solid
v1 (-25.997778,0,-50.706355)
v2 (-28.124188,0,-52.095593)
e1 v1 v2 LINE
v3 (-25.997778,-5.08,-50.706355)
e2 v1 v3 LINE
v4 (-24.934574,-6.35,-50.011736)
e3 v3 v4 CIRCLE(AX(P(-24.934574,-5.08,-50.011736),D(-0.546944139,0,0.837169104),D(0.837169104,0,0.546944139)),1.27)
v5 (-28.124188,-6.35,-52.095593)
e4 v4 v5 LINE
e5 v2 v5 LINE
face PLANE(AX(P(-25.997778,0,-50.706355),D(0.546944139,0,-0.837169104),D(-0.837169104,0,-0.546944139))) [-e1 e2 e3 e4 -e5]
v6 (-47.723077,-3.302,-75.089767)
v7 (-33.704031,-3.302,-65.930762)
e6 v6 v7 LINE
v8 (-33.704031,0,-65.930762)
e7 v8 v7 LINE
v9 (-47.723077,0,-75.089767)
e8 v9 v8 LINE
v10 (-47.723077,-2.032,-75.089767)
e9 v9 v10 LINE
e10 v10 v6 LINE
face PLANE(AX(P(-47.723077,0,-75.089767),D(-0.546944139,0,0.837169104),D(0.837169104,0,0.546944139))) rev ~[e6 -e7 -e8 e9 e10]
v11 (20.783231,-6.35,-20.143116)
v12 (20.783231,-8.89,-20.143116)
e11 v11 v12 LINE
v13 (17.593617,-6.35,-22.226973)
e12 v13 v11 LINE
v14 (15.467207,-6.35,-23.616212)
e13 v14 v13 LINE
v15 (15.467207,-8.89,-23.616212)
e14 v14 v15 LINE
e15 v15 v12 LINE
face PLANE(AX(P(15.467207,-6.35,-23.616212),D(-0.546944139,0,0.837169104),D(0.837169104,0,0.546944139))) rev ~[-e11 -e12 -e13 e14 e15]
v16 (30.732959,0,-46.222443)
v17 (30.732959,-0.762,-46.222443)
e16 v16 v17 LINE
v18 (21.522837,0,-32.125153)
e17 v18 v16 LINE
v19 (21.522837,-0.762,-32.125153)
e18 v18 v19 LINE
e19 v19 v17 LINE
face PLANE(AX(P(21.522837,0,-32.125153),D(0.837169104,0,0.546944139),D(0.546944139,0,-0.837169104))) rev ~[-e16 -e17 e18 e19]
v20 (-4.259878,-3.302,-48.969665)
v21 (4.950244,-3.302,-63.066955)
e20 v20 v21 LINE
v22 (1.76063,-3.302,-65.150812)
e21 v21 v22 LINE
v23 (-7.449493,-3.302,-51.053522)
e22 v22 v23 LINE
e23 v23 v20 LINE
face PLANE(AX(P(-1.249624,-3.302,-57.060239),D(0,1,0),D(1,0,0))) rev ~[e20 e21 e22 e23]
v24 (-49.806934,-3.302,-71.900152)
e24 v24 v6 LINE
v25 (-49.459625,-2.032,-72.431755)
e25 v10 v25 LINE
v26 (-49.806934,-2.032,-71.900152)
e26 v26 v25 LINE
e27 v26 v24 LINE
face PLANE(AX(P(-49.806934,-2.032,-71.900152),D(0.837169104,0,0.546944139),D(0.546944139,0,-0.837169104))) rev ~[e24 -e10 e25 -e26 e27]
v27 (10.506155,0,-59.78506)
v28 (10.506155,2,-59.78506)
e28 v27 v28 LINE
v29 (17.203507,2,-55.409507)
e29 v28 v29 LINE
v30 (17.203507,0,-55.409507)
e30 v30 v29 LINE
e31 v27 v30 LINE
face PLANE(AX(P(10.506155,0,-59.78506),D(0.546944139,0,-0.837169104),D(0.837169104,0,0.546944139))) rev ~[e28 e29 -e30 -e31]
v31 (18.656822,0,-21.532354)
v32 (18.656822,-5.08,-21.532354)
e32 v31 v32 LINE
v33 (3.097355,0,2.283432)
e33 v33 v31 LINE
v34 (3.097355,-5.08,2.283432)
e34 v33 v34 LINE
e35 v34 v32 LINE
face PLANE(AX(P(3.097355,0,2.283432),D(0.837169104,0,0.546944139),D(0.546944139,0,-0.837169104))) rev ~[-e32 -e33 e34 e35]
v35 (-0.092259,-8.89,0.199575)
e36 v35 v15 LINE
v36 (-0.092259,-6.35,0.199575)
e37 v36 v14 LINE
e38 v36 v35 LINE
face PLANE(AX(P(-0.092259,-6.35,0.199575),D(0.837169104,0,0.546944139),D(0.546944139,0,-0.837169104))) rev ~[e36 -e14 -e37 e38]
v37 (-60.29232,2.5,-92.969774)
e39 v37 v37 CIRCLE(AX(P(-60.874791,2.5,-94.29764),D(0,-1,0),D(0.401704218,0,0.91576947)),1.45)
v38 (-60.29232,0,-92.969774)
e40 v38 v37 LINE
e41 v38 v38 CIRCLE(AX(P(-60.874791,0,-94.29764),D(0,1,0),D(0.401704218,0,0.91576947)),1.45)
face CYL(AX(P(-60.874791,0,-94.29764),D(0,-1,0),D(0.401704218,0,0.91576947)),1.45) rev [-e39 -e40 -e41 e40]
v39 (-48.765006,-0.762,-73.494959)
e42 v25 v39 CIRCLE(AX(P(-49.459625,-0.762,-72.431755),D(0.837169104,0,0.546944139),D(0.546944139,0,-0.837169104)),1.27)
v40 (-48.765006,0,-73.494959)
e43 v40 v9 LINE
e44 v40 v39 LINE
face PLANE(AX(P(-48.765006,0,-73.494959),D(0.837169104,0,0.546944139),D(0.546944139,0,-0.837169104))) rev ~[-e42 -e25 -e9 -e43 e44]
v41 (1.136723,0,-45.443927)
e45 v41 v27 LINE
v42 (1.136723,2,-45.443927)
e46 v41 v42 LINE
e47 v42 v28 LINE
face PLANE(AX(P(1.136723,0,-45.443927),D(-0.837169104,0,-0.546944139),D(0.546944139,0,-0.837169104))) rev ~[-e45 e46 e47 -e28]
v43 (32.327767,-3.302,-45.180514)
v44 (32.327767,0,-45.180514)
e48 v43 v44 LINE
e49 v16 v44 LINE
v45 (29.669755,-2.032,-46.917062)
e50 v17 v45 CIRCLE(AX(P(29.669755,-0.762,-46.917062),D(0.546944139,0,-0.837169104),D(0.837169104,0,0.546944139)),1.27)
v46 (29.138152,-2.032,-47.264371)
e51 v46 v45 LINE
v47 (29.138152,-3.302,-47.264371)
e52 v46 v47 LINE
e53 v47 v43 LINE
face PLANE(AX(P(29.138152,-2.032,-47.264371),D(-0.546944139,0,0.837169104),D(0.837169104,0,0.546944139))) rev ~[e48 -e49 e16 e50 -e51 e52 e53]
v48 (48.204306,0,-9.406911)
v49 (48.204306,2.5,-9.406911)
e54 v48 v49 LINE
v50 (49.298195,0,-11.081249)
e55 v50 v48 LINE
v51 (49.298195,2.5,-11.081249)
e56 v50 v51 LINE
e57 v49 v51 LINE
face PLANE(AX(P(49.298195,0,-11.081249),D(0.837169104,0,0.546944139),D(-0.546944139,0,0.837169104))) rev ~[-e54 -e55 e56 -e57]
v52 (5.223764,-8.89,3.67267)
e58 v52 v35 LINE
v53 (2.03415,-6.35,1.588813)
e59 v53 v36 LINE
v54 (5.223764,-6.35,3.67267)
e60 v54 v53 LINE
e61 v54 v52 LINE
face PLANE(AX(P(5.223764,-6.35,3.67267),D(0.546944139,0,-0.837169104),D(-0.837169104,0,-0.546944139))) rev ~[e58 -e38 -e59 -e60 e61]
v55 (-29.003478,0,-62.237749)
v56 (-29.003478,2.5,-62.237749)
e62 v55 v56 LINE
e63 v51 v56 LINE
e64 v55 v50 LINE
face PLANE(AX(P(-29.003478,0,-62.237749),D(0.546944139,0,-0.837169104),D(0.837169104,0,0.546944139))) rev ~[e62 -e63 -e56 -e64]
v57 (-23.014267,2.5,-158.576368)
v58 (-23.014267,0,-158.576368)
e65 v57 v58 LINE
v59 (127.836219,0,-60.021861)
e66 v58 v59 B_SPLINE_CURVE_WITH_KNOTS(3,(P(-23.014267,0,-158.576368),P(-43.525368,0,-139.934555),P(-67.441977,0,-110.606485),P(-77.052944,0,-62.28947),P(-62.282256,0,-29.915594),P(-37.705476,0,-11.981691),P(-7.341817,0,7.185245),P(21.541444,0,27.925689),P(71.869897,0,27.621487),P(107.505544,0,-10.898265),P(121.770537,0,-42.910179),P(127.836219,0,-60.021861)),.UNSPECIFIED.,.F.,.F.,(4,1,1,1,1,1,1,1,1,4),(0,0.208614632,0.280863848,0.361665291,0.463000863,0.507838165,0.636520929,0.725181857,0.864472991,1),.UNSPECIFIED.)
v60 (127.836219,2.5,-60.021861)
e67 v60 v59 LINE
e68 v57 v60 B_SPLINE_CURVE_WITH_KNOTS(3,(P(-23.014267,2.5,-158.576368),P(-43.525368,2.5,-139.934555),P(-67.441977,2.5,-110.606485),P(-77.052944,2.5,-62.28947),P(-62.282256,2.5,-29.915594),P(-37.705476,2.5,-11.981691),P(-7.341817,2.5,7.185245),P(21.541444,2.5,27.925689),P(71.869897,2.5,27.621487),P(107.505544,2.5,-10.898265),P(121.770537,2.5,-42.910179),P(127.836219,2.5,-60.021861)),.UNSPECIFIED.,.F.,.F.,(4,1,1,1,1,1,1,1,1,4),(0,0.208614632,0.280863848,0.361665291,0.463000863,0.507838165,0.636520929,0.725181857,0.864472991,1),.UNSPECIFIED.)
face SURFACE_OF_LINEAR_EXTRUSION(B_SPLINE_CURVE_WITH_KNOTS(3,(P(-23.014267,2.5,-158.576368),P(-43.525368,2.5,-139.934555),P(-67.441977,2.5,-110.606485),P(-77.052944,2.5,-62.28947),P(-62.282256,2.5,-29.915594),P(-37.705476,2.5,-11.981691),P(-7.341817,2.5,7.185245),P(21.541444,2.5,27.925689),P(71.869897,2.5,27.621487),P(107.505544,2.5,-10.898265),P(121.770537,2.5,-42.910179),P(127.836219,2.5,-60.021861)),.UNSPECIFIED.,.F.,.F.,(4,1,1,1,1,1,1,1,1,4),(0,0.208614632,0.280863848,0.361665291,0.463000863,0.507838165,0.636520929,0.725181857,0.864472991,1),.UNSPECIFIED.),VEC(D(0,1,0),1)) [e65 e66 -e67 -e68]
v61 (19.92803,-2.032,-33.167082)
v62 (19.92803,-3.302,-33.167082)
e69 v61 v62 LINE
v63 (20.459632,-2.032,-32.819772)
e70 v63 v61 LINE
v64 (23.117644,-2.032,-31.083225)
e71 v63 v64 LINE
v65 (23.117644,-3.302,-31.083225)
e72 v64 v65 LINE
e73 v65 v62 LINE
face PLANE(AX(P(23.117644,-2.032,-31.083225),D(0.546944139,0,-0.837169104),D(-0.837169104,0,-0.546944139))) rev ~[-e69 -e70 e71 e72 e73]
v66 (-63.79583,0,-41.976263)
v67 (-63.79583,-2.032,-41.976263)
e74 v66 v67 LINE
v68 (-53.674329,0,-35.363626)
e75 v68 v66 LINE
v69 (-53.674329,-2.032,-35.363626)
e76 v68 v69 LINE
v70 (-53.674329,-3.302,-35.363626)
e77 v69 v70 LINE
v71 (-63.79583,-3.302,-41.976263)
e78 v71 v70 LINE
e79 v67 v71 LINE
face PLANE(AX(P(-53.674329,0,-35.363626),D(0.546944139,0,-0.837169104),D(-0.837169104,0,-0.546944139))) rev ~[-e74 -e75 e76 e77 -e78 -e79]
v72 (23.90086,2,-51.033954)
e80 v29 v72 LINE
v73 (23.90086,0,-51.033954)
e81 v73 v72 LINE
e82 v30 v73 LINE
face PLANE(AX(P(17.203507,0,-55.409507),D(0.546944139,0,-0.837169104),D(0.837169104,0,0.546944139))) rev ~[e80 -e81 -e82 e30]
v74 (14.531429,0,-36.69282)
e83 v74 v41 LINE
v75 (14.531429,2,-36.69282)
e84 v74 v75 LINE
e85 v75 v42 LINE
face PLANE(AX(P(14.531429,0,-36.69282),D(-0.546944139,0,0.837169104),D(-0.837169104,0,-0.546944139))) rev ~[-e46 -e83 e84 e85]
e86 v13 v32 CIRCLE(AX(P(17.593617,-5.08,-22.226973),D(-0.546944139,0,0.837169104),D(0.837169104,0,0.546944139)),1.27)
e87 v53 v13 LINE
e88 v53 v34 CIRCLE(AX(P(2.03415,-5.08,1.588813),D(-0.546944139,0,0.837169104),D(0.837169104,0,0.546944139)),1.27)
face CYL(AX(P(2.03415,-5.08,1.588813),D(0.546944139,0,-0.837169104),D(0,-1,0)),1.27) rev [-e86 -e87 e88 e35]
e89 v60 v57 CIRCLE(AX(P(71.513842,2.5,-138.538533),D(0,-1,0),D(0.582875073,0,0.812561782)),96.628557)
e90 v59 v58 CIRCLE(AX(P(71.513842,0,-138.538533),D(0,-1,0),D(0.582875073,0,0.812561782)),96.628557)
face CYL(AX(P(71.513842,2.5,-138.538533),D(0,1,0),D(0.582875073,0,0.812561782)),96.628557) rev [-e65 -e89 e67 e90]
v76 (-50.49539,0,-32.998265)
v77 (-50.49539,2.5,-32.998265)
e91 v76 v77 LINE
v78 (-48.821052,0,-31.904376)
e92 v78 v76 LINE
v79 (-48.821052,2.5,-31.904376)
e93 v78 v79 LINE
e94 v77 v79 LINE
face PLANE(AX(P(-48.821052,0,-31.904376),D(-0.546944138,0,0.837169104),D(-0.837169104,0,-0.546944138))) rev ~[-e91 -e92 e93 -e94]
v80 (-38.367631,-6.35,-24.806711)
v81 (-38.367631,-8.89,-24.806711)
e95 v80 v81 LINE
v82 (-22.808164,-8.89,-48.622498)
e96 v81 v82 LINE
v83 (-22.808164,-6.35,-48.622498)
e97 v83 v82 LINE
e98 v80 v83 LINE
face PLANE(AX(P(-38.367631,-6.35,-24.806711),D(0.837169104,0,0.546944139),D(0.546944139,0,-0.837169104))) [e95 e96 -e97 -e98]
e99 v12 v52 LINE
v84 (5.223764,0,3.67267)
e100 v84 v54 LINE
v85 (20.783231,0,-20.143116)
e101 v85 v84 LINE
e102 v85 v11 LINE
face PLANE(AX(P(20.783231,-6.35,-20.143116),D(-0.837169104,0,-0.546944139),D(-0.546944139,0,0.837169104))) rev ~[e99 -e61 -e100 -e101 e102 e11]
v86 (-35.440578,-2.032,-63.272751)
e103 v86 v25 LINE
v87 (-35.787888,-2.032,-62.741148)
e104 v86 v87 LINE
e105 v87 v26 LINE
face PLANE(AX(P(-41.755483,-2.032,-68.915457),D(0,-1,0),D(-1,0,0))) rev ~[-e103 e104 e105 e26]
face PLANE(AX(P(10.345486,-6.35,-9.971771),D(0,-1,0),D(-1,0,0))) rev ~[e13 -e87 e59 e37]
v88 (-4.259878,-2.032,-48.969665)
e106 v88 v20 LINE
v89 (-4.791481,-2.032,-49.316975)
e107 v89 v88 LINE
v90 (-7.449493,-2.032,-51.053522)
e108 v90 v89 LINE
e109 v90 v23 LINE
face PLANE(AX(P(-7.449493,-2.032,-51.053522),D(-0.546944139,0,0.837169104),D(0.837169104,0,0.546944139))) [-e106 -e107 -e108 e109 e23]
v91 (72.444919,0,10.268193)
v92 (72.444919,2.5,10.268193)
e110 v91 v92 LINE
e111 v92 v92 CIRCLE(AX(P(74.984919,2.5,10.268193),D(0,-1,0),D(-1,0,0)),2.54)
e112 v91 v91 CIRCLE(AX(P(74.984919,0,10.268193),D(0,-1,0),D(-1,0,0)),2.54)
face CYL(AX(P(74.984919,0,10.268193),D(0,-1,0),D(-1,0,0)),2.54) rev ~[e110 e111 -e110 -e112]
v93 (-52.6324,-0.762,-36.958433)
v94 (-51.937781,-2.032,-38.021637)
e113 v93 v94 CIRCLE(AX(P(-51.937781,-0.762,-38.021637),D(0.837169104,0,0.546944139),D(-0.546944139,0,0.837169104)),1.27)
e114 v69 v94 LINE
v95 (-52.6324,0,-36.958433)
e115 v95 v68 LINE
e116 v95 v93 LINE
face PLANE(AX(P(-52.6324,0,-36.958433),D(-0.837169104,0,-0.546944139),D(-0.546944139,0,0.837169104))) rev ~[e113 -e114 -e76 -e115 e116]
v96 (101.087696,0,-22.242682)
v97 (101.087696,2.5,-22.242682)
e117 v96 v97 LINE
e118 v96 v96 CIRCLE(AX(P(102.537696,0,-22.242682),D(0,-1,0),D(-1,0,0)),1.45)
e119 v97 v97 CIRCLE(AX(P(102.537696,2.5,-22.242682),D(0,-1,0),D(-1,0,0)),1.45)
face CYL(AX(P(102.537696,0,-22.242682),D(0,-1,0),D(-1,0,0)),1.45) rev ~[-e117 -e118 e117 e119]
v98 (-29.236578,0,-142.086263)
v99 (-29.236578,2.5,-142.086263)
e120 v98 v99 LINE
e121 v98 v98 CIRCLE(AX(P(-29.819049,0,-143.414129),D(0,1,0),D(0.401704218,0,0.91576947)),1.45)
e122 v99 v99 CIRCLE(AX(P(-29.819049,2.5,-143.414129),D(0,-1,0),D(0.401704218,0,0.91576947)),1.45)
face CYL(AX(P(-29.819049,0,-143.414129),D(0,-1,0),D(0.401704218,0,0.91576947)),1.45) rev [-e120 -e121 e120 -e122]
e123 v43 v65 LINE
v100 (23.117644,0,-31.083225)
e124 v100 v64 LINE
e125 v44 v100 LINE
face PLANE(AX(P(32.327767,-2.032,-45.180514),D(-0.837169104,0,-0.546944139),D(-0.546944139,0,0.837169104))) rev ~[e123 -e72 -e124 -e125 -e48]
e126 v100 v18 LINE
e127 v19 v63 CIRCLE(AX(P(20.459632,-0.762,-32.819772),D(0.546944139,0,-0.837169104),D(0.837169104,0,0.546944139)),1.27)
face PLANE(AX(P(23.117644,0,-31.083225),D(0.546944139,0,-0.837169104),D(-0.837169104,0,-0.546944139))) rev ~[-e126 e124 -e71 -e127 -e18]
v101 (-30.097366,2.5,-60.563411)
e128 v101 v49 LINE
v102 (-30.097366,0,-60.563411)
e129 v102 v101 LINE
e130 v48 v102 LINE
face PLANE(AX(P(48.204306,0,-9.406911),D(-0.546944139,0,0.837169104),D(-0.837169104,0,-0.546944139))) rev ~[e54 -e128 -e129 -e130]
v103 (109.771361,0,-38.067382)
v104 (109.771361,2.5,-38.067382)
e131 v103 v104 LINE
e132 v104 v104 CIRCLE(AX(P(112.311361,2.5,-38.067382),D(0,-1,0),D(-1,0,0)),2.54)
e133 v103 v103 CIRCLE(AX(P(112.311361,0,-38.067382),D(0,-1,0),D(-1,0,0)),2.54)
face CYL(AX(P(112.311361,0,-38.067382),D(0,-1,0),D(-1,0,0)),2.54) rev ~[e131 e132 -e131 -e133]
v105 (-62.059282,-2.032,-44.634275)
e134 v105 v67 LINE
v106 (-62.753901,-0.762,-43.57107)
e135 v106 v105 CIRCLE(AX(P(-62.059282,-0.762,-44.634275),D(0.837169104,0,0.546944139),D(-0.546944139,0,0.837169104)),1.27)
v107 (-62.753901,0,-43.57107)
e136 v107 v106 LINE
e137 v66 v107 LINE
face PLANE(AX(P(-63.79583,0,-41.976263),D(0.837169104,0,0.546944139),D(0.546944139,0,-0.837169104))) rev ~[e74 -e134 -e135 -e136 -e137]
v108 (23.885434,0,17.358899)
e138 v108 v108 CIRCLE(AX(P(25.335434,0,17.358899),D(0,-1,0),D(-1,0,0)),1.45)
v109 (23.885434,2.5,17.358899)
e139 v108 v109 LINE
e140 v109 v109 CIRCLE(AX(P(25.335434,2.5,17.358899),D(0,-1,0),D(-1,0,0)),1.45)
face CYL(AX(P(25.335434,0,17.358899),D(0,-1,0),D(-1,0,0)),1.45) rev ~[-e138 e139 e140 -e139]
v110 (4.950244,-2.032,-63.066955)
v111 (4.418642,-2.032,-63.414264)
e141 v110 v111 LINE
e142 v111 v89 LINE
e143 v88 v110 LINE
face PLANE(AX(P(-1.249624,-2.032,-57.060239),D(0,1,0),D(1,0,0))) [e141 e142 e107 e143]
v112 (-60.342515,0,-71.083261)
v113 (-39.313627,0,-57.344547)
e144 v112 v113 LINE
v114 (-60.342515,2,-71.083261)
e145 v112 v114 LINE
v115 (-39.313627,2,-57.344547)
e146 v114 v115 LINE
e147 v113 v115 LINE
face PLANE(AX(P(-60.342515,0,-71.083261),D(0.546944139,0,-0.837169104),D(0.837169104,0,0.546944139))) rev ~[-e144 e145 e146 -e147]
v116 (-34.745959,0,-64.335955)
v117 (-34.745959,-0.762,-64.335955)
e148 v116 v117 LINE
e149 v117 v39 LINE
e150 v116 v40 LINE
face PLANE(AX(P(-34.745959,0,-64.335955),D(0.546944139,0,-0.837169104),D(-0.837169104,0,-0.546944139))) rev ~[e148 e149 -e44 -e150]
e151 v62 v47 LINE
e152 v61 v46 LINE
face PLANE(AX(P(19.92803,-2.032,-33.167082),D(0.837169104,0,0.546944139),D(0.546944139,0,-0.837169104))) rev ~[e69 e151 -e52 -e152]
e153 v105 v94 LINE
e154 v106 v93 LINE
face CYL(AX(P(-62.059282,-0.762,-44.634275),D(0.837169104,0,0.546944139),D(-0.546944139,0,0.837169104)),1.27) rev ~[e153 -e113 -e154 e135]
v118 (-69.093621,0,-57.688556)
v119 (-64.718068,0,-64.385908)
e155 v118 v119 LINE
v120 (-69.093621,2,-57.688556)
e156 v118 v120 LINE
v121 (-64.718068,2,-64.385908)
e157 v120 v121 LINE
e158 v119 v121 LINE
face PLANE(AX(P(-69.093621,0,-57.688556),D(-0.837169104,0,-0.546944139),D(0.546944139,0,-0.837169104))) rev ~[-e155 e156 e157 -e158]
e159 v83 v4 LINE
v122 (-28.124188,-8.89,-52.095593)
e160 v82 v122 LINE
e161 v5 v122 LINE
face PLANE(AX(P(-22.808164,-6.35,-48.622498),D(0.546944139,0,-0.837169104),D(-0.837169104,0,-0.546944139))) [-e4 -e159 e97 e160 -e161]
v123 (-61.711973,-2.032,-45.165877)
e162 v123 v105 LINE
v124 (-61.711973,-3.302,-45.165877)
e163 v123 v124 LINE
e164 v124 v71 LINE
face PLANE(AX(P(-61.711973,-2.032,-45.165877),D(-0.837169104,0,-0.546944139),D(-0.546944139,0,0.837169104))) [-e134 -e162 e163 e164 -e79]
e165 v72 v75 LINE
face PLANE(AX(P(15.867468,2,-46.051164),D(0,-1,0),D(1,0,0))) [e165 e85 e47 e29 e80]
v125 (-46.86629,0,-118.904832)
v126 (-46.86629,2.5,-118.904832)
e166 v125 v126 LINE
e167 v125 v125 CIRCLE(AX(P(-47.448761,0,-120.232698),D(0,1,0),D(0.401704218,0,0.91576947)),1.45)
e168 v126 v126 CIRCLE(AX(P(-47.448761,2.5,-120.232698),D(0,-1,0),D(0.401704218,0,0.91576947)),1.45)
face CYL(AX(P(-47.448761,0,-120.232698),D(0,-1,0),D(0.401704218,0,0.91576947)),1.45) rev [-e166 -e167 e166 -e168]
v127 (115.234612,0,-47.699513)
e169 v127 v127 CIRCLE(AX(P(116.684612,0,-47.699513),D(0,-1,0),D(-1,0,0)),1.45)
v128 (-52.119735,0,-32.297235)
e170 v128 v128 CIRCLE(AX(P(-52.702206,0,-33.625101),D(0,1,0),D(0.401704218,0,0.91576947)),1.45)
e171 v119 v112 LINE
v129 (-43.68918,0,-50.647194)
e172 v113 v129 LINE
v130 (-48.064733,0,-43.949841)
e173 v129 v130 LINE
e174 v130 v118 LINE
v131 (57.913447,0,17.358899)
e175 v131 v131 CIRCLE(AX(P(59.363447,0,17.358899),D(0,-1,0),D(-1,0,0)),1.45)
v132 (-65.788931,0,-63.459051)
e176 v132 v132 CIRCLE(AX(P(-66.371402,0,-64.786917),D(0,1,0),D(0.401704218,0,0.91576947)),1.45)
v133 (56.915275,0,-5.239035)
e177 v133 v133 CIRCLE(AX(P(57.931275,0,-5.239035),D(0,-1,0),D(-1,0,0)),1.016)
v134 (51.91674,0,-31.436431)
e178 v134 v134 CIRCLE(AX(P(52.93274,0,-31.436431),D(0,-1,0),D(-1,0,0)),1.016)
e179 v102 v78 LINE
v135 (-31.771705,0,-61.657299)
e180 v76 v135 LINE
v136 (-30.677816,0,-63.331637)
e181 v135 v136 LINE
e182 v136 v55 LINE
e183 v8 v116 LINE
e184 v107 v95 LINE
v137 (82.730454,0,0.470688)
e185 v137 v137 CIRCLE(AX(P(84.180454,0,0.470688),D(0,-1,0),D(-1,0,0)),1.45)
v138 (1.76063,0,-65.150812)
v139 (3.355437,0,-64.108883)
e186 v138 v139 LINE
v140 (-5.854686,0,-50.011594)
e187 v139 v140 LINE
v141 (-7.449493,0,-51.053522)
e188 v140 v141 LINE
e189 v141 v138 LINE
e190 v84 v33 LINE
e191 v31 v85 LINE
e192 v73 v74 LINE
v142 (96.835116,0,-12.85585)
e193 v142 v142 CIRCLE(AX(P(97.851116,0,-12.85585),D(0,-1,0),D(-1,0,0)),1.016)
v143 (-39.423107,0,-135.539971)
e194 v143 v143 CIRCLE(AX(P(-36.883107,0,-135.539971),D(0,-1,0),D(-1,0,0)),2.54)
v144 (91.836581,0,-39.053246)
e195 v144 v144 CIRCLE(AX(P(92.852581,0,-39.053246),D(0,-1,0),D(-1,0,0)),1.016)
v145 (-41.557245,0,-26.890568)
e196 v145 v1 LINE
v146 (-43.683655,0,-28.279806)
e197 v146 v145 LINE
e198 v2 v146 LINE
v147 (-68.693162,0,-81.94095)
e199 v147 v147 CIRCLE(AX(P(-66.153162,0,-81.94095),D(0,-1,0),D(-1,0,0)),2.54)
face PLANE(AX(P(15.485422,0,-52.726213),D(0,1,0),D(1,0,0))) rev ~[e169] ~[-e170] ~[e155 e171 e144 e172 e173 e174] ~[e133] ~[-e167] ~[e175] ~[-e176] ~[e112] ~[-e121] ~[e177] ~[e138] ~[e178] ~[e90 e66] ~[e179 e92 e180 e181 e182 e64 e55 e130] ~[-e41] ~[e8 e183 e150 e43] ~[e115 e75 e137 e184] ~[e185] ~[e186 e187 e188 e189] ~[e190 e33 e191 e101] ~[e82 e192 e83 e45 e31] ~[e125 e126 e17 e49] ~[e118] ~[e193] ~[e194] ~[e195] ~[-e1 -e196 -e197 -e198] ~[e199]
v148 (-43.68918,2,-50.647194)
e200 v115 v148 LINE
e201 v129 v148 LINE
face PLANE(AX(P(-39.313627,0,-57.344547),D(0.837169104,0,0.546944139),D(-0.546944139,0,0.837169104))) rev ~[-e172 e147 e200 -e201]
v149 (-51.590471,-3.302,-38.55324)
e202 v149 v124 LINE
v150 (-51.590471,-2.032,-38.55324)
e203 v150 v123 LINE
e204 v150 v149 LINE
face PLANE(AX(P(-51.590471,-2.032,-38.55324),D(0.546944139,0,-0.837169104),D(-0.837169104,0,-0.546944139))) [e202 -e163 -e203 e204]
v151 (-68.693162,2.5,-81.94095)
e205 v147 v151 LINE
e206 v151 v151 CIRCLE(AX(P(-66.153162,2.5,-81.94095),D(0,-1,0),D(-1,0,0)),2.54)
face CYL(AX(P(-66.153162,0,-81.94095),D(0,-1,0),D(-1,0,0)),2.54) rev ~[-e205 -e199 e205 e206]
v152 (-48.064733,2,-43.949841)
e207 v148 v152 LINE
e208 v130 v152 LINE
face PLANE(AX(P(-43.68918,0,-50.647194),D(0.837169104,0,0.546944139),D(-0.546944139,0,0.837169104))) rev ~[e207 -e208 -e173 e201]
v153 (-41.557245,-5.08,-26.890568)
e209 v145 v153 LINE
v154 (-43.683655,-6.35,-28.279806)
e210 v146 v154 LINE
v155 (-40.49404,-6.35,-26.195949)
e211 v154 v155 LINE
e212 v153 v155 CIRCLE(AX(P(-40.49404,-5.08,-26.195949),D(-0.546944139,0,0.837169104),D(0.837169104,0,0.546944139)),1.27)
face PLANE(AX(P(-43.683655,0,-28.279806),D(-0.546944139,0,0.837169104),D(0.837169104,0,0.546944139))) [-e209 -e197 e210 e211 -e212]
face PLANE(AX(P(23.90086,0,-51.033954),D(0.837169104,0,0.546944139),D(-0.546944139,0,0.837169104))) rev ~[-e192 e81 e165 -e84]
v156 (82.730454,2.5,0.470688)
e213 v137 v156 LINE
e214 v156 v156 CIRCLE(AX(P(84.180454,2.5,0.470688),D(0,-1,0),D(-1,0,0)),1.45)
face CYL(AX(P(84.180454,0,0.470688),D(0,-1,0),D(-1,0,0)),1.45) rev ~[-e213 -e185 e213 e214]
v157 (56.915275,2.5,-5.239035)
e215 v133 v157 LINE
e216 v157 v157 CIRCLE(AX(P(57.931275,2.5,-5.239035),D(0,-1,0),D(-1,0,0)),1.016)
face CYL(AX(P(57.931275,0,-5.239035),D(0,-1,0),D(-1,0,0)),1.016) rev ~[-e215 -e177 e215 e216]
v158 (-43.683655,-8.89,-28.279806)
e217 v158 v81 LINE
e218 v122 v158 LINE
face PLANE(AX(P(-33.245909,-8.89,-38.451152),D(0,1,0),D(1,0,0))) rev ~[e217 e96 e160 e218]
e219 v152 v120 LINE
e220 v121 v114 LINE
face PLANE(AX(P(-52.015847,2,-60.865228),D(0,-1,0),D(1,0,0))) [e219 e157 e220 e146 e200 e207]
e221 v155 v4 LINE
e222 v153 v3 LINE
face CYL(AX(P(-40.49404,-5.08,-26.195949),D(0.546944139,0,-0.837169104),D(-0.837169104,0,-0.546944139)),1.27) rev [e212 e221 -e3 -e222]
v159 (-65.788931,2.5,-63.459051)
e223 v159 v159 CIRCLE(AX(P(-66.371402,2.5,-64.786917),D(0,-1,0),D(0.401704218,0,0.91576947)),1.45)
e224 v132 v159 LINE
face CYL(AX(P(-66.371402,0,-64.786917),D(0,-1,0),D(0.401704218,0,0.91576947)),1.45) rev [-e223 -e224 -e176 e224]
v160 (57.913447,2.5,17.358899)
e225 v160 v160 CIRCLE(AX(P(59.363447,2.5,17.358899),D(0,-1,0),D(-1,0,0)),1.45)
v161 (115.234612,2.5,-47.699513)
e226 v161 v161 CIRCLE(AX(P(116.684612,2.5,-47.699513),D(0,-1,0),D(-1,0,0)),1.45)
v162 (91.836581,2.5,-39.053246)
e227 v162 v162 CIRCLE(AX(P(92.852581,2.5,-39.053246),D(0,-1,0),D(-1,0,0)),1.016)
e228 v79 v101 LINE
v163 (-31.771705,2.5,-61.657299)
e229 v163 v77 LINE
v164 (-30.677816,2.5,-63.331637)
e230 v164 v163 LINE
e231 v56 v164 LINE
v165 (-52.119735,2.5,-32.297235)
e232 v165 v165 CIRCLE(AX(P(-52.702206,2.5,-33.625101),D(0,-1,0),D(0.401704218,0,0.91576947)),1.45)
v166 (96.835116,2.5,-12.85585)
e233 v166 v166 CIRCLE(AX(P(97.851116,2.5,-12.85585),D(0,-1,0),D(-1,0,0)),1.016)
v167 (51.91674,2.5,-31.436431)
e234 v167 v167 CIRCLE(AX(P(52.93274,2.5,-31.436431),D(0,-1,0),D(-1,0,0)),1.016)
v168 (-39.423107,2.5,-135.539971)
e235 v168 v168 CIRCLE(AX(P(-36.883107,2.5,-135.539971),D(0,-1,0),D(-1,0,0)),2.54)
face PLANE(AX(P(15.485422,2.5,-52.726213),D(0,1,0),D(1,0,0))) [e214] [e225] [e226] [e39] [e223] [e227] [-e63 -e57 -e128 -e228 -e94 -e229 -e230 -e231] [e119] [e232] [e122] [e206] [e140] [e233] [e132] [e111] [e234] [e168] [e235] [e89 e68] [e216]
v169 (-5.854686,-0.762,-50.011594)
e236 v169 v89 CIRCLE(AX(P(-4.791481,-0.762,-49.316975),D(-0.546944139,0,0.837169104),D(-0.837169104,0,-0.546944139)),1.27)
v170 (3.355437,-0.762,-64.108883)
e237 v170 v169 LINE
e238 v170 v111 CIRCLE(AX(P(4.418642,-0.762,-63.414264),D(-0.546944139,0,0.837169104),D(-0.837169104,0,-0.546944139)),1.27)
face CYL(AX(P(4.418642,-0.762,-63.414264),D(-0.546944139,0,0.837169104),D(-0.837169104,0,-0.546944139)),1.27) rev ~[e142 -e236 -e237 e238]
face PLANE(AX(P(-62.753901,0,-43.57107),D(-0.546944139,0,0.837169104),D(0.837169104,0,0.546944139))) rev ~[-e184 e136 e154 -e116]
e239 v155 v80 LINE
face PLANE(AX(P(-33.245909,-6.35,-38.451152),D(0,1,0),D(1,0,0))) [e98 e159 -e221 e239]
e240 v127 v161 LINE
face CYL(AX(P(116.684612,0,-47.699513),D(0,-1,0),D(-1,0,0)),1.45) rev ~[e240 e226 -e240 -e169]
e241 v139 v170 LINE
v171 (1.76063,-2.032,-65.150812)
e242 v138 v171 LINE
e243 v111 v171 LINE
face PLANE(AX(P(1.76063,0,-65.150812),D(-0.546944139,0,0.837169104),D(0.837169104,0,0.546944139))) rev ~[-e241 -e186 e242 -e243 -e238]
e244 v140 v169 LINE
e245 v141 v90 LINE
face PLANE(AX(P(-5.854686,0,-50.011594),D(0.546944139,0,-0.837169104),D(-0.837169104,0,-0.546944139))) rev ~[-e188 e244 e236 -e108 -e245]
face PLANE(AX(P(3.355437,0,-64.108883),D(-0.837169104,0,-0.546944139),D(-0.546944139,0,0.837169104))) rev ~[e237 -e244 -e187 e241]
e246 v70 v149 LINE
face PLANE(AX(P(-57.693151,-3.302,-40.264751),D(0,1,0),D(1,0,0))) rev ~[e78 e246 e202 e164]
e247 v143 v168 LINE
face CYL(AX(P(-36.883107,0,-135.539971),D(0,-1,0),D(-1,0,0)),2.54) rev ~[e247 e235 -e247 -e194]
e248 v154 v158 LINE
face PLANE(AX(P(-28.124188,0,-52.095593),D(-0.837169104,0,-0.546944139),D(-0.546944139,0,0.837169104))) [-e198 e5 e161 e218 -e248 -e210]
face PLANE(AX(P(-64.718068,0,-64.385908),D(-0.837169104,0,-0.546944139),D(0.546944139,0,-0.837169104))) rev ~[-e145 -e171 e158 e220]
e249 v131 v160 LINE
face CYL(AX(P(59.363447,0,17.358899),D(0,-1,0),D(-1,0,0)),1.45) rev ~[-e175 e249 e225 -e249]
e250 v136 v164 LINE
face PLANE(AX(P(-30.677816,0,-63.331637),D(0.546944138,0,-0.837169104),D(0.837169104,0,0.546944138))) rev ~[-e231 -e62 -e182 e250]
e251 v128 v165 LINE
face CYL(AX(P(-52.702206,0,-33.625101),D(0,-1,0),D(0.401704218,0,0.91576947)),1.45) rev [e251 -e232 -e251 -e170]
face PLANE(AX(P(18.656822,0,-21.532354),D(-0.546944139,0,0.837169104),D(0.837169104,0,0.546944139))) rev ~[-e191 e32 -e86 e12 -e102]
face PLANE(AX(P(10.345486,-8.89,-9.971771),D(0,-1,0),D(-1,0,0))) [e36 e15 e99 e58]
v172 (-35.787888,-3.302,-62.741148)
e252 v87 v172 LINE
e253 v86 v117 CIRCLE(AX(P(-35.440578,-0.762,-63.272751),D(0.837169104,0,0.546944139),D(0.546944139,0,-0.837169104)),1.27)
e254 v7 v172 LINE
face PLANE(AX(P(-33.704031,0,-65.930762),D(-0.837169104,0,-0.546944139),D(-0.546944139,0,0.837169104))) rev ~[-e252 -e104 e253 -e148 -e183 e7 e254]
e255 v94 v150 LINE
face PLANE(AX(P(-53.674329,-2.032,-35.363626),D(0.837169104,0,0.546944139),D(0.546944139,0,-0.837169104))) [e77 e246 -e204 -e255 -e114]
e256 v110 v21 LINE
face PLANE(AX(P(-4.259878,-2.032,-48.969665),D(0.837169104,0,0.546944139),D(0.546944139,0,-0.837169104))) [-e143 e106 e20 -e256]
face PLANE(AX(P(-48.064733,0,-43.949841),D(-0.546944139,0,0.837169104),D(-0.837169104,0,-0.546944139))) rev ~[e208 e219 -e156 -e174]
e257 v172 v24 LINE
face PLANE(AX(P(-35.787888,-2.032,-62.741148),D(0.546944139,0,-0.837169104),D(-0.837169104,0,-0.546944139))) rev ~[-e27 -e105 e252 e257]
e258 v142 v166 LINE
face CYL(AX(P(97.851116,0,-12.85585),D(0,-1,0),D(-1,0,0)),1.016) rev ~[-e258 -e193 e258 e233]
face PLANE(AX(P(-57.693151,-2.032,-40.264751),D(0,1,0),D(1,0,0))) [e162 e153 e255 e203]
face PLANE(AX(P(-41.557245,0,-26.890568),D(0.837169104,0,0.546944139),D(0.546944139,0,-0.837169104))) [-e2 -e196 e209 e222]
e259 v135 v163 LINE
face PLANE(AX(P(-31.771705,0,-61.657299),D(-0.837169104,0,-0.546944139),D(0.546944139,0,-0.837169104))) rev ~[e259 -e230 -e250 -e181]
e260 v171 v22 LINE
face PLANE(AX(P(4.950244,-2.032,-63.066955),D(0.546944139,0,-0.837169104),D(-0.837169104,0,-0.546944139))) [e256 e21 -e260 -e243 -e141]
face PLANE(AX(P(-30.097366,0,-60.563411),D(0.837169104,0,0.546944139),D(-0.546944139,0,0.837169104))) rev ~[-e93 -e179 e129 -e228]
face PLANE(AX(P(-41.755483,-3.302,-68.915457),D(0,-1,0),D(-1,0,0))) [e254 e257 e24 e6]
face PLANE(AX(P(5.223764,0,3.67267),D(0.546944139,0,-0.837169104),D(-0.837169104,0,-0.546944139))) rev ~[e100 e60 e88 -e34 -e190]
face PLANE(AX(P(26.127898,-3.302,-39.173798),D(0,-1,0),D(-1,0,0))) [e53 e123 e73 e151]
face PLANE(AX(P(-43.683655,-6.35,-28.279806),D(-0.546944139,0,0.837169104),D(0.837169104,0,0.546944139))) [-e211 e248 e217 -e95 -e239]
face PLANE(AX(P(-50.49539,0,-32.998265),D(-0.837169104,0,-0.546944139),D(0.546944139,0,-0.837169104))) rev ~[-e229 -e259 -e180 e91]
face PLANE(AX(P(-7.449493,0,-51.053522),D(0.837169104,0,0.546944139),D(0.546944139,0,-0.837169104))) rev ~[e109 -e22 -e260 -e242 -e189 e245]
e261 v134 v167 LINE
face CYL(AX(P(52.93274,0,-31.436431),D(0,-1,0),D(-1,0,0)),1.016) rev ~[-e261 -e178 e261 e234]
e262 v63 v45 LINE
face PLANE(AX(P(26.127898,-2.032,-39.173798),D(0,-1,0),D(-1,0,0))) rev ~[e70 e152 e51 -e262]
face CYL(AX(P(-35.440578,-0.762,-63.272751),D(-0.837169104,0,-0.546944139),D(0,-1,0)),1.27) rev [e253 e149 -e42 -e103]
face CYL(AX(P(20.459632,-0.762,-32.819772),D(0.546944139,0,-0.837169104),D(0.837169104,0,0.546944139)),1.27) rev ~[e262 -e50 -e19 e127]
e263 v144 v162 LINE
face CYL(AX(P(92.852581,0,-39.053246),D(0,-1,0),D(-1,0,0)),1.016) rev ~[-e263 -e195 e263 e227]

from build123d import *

# Parameters (mm, degrees)
SKETCH1_R           = 4.97264949
BOSS_EXTRUDE1_DEPTH = 2.5
BOSS_EXTRUDE2_DEPTH = 2.5
SKETCH5_R           = 1.016
CUT_EXTRUDE1_DEPTH  = 2.5
SKETCH7_R           = 1.45
CUT_EXTRUDE2_DEPTH  = 22.5
BOSS_EXTRUDE3_DEPTH = 2.032
BOSS_EXTRUDE4_DEPTH = 1.27
FILLET1_R           = 1.27
BOSS_EXTRUDE5_DEPTH = 6.35
BOSS_EXTRUDE6_DEPTH = 2.54
FILLET2_R           = 1.27
SKETCH12_R          = 2.54
CUT_EXTRUDE3_DEPTH  = 2.54
CUT_EXTRUDE5_DEPTH  = 2
CUT_EXTRUDE6_DEPTH  = 30.194


with BuildPart() as part:
    # Sketch1 → Boss-Extrude1 (new body)
    with BuildSketch(Plane(origin=(0, 0, 0), x_dir=(1, 0, 0), z_dir=(0, 1, 0))):
        with Locations((0, 29.077302231)):
            Circle(SKETCH1_R)
    extrude(amount=BOSS_EXTRUDE1_DEPTH)

    # Sketch4 → Boss-Extrude2 (add)
    with BuildSketch(Plane(origin=(0, 2.5, 0), x_dir=(1, 0, 0), z_dir=(0, 1, 0))):
        with BuildLine():
            ThreePointArc((127.836218959, 60.021860615), (18.663418588, 57.644090539), (-23.014266624, 158.576368263))
            add(Edge.make_bspline(
                [(-23.014266624, 158.576368263), (-43.525367802, 139.93455507), (-67.441977329, 110.606484637), (-77.052944274, 62.289470054), (-62.282256217, 29.91559378), (-37.705476382, 11.981691021), (-7.341817226, -7.185244534), (21.54144366, -27.925689472), (71.869897241, -27.621486723), (107.505543827, 10.898265089), (121.770537032, 42.910179385), (127.836218959, 60.021860615)],
                knots=[0, 0, 0, 0, 0.208614632, 0.280863848, 0.361665291, 0.463000863, 0.507838165, 0.636520929, 0.725181857, 0.864472991, 1, 1, 1, 1], degree=3))
        make_face()
    extrude(amount=-BOSS_EXTRUDE2_DEPTH)

    # Sketch5 → Cut-Extrude1 (cut)
    with BuildSketch(Plane(origin=(0, 0, 0), x_dir=(-1, 0, 0), z_dir=(0, -1, 0))):
        with Locations((-97.851116061, 12.855849852)):
            Circle(SKETCH5_R)
        with Locations((-57.931274745, 5.239034946)):
            Circle(SKETCH5_R)
        with Locations((-52.932739964, 31.43643081)):
            Circle(SKETCH5_R)
        with Locations((-92.85258128, 39.053245715)):
            Circle(SKETCH5_R)
    extrude(amount=-CUT_EXTRUDE1_DEPTH, mode=Mode.SUBTRACT)

    # Sketch7 → Cut-Extrude2 (cut)
    with BuildSketch(Plane(origin=(0, 0, 0), x_dir=(-1, 0, 0), z_dir=(0, -1, 0))):
        with Locations((-116.68461242, 47.699513218)):
            Circle(SKETCH7_R)
        with Locations((-102.537696022, 22.242682357)):
            Circle(SKETCH7_R)
        with Locations((-84.180454065, -0.470688376)):
            Circle(SKETCH7_R)
        with Locations((-59.363446928, -17.358898913)):
            Circle(SKETCH7_R)
        with Locations((-25.335433541, -17.358898913)):
            Circle(SKETCH7_R)
        with Locations((-67.32001575, 301.077348787)):
            Circle(SKETCH7_R)
        with Locations((-100.185198085, 292.257740796)):
            Circle(SKETCH7_R)
        with Locations((-119.776940348, 269.514409168)):
            Circle(SKETCH7_R)
        with Locations((-131.619861457, 242.819264255)):
            Circle(SKETCH7_R)
        with Locations((-138.685267106, 214.565671137)):
            Circle(SKETCH7_R)
    cut_extrude2 = extrude(amount=-CUT_EXTRUDE2_DEPTH, mode=Mode.SUBTRACT)

    # Sketch8 → Boss-Extrude3 (add)
    with BuildSketch(Plane.XZ):
        Polygon((23.117644184, -31.083224589), (21.52283704, -32.125153173), (30.732959389, -46.222442701), (32.327766533, -45.180514117), align=None)
        Polygon((3.355436755, -64.108883393), (-5.854685594, -50.011593865), (-7.449492738, -51.05352245), (1.760629611, -65.150811977), align=None)
        Polygon((-33.704030791, -65.930762463), (-34.745959375, -64.335955319), (-48.765005719, -73.49495938), (-47.723077135, -75.089766524), align=None)
        Polygon((-62.753901245, -43.571070108), (-52.632400064, -36.95843269), (-53.674328648, -35.363625546), (-63.795829829, -41.976262964), align=None)
    extrude(amount=BOSS_EXTRUDE3_DEPTH)

    # Sketch9 → Boss-Extrude4 (add)
    with BuildSketch(Plane(origin=(0, -2.032, 0), x_dir=(-1, 0, 0), z_dir=(0, -1, 0))):
        Polygon((-32.327766533, 45.180514117), (-23.117644184, 31.083224589), (-19.928029897, 33.167081757), (-29.138152245, 47.264371285), align=None)
        Polygon((-1.760629611, 65.150811977), (7.449492738, 51.05352245), (4.25987845, 48.969665281), (-4.950243898, 63.066954809), align=None)
        Polygon((47.723077135, 75.089766524), (33.704030791, 65.930762463), (35.787887959, 62.741148175), (49.806934303, 71.900152237), align=None)
        Polygon((63.795829829, 41.976262964), (53.674328648, 35.363625546), (51.59047148, 38.553239833), (61.711972661, 45.165877251), align=None)
    extrude(amount=BOSS_EXTRUDE4_DEPTH)

    # Fillet1
    fillet1_edges = [part.edges().sort_by_distance(p)[0] for p in [
        (-57.693150655, -2.032, -40.264751399),
        (-41.755482547, -2.032, -68.91545735),
        (-1.24962442, -2.032, -57.060238629),
        (26.127898215, -2.032, -39.173797937),
    ]]
    fillet(fillet1_edges, radius=FILLET1_R)

    # Sketch10 → Boss-Extrude5 (add)
    with BuildSketch(Plane(origin=(0, 0, 0), x_dir=(-1, 0, 0), z_dir=(0, -1, 0))):
        Polygon((-20.78323121, 20.143116325), (-5.223764355, -3.672670355), (-3.09735483, -2.283432243), (-18.656821685, 21.532354437), align=None)
        Polygon((28.124187865, 52.095592902), (43.68365472, 28.279806222), (41.557245195, 26.89056811), (25.99777834, 50.70635479), align=None)
    extrude(amount=BOSS_EXTRUDE5_DEPTH)

    # Sketch11 → Boss-Extrude6 (add)
    with BuildSketch(Plane(origin=(0, -6.35, 0), x_dir=(-1, 0, 0), z_dir=(0, -1, 0))):
        Polygon((-20.78323121, 20.143116325), (-5.223764355, -3.672670355), (0.092259457, -0.199575075), (-15.467207398, 23.616211605), align=None)
        Polygon((28.124187865, 52.095592902), (43.68365472, 28.279806222), (38.367630907, 24.806710942), (22.808164052, 48.622497622), align=None)
    extrude(amount=BOSS_EXTRUDE6_DEPTH)

    # Fillet2
    fillet2_edges = [part.edges().sort_by_distance(p)[0] for p in [
        (-33.777511767, -6.35, -38.79846145),
        (10.877088258, -6.35, -9.624461097),
    ]]
    fillet(fillet2_edges, radius=FILLET2_R)

    # Sketch12 → Cut-Extrude3 (cut)
    with BuildSketch(Plane(origin=(0, 0, 0), x_dir=(-1, 0, 0), z_dir=(0, -1, 0))):
        with Locations((-112.311361387, 38.067382066)):
            Circle(SKETCH12_R)
        with Locations((-74.984918834, -10.268193029)):
            Circle(SKETCH12_R)
        with Locations((66.153161532, 81.94095013)):
            Circle(SKETCH12_R)
        with Locations((36.883107015, 135.539971036)):
            Circle(SKETCH12_R)
    extrude(amount=-CUT_EXTRUDE3_DEPTH, mode=Mode.SUBTRACT)

    # Mirror1: Cut-Extrude2 across plane
    add(cut_extrude2.mirror(Plane(origin=(-13.314052816, 0, -8.698413631), x_dir=(-0.546944139, 0, 0.837169104), z_dir=(0.837169104, 0, 0.546944139))), mode=Mode.SUBTRACT)

    # Sketch14 → Cut-Extrude5 (cut)
    with BuildSketch(Plane.XZ):
        Polygon((23.90086027, -51.033953629), (14.531428558, -36.69282041), (7.834075723, -41.068373519), (17.203507436, -55.409506738), align=None)
        Polygon((17.203507436, -55.409506738), (7.834075723, -41.068373519), (1.136722888, -45.443926628), (10.506154601, -59.785059847), align=None)
        Polygon((-60.34251494, -71.08326122), (-39.313626611, -57.344546839), (-43.68917972, -50.647194004), (-64.718068049, -64.385908386), align=None)
        Polygon((-64.718068049, -64.385908386), (-43.68917972, -50.647194004), (-48.064732829, -43.94984117), (-69.093621158, -57.688555551), align=None)
    extrude(amount=-CUT_EXTRUDE5_DEPTH, mode=Mode.SUBTRACT)

    # Sketch15 → Cut-Extrude6 (cut)
    with BuildSketch(Plane(origin=(0, 0, 0), x_dir=(-1, 0, 0), z_dir=(0, -1, 0))):
        Polygon((29.003478162, 62.237748811), (-49.298194521, 11.081249252), (-48.204306243, 9.406911043), (30.097366439, 60.563410603), align=None)
        Polygon((30.677816371, 63.331637088), (29.003478162, 62.237748811), (30.097366439, 60.563410603), (31.771704648, 61.65729888), align=None)
        Polygon((31.771704648, 61.65729888), (30.097366439, 60.563410603), (48.821051629, 31.904376427), (50.495389838, 32.998264704), align=None)
    extrude(amount=-CUT_EXTRUDE6_DEPTH, mode=Mode.SUBTRACT)


solid = part.part
